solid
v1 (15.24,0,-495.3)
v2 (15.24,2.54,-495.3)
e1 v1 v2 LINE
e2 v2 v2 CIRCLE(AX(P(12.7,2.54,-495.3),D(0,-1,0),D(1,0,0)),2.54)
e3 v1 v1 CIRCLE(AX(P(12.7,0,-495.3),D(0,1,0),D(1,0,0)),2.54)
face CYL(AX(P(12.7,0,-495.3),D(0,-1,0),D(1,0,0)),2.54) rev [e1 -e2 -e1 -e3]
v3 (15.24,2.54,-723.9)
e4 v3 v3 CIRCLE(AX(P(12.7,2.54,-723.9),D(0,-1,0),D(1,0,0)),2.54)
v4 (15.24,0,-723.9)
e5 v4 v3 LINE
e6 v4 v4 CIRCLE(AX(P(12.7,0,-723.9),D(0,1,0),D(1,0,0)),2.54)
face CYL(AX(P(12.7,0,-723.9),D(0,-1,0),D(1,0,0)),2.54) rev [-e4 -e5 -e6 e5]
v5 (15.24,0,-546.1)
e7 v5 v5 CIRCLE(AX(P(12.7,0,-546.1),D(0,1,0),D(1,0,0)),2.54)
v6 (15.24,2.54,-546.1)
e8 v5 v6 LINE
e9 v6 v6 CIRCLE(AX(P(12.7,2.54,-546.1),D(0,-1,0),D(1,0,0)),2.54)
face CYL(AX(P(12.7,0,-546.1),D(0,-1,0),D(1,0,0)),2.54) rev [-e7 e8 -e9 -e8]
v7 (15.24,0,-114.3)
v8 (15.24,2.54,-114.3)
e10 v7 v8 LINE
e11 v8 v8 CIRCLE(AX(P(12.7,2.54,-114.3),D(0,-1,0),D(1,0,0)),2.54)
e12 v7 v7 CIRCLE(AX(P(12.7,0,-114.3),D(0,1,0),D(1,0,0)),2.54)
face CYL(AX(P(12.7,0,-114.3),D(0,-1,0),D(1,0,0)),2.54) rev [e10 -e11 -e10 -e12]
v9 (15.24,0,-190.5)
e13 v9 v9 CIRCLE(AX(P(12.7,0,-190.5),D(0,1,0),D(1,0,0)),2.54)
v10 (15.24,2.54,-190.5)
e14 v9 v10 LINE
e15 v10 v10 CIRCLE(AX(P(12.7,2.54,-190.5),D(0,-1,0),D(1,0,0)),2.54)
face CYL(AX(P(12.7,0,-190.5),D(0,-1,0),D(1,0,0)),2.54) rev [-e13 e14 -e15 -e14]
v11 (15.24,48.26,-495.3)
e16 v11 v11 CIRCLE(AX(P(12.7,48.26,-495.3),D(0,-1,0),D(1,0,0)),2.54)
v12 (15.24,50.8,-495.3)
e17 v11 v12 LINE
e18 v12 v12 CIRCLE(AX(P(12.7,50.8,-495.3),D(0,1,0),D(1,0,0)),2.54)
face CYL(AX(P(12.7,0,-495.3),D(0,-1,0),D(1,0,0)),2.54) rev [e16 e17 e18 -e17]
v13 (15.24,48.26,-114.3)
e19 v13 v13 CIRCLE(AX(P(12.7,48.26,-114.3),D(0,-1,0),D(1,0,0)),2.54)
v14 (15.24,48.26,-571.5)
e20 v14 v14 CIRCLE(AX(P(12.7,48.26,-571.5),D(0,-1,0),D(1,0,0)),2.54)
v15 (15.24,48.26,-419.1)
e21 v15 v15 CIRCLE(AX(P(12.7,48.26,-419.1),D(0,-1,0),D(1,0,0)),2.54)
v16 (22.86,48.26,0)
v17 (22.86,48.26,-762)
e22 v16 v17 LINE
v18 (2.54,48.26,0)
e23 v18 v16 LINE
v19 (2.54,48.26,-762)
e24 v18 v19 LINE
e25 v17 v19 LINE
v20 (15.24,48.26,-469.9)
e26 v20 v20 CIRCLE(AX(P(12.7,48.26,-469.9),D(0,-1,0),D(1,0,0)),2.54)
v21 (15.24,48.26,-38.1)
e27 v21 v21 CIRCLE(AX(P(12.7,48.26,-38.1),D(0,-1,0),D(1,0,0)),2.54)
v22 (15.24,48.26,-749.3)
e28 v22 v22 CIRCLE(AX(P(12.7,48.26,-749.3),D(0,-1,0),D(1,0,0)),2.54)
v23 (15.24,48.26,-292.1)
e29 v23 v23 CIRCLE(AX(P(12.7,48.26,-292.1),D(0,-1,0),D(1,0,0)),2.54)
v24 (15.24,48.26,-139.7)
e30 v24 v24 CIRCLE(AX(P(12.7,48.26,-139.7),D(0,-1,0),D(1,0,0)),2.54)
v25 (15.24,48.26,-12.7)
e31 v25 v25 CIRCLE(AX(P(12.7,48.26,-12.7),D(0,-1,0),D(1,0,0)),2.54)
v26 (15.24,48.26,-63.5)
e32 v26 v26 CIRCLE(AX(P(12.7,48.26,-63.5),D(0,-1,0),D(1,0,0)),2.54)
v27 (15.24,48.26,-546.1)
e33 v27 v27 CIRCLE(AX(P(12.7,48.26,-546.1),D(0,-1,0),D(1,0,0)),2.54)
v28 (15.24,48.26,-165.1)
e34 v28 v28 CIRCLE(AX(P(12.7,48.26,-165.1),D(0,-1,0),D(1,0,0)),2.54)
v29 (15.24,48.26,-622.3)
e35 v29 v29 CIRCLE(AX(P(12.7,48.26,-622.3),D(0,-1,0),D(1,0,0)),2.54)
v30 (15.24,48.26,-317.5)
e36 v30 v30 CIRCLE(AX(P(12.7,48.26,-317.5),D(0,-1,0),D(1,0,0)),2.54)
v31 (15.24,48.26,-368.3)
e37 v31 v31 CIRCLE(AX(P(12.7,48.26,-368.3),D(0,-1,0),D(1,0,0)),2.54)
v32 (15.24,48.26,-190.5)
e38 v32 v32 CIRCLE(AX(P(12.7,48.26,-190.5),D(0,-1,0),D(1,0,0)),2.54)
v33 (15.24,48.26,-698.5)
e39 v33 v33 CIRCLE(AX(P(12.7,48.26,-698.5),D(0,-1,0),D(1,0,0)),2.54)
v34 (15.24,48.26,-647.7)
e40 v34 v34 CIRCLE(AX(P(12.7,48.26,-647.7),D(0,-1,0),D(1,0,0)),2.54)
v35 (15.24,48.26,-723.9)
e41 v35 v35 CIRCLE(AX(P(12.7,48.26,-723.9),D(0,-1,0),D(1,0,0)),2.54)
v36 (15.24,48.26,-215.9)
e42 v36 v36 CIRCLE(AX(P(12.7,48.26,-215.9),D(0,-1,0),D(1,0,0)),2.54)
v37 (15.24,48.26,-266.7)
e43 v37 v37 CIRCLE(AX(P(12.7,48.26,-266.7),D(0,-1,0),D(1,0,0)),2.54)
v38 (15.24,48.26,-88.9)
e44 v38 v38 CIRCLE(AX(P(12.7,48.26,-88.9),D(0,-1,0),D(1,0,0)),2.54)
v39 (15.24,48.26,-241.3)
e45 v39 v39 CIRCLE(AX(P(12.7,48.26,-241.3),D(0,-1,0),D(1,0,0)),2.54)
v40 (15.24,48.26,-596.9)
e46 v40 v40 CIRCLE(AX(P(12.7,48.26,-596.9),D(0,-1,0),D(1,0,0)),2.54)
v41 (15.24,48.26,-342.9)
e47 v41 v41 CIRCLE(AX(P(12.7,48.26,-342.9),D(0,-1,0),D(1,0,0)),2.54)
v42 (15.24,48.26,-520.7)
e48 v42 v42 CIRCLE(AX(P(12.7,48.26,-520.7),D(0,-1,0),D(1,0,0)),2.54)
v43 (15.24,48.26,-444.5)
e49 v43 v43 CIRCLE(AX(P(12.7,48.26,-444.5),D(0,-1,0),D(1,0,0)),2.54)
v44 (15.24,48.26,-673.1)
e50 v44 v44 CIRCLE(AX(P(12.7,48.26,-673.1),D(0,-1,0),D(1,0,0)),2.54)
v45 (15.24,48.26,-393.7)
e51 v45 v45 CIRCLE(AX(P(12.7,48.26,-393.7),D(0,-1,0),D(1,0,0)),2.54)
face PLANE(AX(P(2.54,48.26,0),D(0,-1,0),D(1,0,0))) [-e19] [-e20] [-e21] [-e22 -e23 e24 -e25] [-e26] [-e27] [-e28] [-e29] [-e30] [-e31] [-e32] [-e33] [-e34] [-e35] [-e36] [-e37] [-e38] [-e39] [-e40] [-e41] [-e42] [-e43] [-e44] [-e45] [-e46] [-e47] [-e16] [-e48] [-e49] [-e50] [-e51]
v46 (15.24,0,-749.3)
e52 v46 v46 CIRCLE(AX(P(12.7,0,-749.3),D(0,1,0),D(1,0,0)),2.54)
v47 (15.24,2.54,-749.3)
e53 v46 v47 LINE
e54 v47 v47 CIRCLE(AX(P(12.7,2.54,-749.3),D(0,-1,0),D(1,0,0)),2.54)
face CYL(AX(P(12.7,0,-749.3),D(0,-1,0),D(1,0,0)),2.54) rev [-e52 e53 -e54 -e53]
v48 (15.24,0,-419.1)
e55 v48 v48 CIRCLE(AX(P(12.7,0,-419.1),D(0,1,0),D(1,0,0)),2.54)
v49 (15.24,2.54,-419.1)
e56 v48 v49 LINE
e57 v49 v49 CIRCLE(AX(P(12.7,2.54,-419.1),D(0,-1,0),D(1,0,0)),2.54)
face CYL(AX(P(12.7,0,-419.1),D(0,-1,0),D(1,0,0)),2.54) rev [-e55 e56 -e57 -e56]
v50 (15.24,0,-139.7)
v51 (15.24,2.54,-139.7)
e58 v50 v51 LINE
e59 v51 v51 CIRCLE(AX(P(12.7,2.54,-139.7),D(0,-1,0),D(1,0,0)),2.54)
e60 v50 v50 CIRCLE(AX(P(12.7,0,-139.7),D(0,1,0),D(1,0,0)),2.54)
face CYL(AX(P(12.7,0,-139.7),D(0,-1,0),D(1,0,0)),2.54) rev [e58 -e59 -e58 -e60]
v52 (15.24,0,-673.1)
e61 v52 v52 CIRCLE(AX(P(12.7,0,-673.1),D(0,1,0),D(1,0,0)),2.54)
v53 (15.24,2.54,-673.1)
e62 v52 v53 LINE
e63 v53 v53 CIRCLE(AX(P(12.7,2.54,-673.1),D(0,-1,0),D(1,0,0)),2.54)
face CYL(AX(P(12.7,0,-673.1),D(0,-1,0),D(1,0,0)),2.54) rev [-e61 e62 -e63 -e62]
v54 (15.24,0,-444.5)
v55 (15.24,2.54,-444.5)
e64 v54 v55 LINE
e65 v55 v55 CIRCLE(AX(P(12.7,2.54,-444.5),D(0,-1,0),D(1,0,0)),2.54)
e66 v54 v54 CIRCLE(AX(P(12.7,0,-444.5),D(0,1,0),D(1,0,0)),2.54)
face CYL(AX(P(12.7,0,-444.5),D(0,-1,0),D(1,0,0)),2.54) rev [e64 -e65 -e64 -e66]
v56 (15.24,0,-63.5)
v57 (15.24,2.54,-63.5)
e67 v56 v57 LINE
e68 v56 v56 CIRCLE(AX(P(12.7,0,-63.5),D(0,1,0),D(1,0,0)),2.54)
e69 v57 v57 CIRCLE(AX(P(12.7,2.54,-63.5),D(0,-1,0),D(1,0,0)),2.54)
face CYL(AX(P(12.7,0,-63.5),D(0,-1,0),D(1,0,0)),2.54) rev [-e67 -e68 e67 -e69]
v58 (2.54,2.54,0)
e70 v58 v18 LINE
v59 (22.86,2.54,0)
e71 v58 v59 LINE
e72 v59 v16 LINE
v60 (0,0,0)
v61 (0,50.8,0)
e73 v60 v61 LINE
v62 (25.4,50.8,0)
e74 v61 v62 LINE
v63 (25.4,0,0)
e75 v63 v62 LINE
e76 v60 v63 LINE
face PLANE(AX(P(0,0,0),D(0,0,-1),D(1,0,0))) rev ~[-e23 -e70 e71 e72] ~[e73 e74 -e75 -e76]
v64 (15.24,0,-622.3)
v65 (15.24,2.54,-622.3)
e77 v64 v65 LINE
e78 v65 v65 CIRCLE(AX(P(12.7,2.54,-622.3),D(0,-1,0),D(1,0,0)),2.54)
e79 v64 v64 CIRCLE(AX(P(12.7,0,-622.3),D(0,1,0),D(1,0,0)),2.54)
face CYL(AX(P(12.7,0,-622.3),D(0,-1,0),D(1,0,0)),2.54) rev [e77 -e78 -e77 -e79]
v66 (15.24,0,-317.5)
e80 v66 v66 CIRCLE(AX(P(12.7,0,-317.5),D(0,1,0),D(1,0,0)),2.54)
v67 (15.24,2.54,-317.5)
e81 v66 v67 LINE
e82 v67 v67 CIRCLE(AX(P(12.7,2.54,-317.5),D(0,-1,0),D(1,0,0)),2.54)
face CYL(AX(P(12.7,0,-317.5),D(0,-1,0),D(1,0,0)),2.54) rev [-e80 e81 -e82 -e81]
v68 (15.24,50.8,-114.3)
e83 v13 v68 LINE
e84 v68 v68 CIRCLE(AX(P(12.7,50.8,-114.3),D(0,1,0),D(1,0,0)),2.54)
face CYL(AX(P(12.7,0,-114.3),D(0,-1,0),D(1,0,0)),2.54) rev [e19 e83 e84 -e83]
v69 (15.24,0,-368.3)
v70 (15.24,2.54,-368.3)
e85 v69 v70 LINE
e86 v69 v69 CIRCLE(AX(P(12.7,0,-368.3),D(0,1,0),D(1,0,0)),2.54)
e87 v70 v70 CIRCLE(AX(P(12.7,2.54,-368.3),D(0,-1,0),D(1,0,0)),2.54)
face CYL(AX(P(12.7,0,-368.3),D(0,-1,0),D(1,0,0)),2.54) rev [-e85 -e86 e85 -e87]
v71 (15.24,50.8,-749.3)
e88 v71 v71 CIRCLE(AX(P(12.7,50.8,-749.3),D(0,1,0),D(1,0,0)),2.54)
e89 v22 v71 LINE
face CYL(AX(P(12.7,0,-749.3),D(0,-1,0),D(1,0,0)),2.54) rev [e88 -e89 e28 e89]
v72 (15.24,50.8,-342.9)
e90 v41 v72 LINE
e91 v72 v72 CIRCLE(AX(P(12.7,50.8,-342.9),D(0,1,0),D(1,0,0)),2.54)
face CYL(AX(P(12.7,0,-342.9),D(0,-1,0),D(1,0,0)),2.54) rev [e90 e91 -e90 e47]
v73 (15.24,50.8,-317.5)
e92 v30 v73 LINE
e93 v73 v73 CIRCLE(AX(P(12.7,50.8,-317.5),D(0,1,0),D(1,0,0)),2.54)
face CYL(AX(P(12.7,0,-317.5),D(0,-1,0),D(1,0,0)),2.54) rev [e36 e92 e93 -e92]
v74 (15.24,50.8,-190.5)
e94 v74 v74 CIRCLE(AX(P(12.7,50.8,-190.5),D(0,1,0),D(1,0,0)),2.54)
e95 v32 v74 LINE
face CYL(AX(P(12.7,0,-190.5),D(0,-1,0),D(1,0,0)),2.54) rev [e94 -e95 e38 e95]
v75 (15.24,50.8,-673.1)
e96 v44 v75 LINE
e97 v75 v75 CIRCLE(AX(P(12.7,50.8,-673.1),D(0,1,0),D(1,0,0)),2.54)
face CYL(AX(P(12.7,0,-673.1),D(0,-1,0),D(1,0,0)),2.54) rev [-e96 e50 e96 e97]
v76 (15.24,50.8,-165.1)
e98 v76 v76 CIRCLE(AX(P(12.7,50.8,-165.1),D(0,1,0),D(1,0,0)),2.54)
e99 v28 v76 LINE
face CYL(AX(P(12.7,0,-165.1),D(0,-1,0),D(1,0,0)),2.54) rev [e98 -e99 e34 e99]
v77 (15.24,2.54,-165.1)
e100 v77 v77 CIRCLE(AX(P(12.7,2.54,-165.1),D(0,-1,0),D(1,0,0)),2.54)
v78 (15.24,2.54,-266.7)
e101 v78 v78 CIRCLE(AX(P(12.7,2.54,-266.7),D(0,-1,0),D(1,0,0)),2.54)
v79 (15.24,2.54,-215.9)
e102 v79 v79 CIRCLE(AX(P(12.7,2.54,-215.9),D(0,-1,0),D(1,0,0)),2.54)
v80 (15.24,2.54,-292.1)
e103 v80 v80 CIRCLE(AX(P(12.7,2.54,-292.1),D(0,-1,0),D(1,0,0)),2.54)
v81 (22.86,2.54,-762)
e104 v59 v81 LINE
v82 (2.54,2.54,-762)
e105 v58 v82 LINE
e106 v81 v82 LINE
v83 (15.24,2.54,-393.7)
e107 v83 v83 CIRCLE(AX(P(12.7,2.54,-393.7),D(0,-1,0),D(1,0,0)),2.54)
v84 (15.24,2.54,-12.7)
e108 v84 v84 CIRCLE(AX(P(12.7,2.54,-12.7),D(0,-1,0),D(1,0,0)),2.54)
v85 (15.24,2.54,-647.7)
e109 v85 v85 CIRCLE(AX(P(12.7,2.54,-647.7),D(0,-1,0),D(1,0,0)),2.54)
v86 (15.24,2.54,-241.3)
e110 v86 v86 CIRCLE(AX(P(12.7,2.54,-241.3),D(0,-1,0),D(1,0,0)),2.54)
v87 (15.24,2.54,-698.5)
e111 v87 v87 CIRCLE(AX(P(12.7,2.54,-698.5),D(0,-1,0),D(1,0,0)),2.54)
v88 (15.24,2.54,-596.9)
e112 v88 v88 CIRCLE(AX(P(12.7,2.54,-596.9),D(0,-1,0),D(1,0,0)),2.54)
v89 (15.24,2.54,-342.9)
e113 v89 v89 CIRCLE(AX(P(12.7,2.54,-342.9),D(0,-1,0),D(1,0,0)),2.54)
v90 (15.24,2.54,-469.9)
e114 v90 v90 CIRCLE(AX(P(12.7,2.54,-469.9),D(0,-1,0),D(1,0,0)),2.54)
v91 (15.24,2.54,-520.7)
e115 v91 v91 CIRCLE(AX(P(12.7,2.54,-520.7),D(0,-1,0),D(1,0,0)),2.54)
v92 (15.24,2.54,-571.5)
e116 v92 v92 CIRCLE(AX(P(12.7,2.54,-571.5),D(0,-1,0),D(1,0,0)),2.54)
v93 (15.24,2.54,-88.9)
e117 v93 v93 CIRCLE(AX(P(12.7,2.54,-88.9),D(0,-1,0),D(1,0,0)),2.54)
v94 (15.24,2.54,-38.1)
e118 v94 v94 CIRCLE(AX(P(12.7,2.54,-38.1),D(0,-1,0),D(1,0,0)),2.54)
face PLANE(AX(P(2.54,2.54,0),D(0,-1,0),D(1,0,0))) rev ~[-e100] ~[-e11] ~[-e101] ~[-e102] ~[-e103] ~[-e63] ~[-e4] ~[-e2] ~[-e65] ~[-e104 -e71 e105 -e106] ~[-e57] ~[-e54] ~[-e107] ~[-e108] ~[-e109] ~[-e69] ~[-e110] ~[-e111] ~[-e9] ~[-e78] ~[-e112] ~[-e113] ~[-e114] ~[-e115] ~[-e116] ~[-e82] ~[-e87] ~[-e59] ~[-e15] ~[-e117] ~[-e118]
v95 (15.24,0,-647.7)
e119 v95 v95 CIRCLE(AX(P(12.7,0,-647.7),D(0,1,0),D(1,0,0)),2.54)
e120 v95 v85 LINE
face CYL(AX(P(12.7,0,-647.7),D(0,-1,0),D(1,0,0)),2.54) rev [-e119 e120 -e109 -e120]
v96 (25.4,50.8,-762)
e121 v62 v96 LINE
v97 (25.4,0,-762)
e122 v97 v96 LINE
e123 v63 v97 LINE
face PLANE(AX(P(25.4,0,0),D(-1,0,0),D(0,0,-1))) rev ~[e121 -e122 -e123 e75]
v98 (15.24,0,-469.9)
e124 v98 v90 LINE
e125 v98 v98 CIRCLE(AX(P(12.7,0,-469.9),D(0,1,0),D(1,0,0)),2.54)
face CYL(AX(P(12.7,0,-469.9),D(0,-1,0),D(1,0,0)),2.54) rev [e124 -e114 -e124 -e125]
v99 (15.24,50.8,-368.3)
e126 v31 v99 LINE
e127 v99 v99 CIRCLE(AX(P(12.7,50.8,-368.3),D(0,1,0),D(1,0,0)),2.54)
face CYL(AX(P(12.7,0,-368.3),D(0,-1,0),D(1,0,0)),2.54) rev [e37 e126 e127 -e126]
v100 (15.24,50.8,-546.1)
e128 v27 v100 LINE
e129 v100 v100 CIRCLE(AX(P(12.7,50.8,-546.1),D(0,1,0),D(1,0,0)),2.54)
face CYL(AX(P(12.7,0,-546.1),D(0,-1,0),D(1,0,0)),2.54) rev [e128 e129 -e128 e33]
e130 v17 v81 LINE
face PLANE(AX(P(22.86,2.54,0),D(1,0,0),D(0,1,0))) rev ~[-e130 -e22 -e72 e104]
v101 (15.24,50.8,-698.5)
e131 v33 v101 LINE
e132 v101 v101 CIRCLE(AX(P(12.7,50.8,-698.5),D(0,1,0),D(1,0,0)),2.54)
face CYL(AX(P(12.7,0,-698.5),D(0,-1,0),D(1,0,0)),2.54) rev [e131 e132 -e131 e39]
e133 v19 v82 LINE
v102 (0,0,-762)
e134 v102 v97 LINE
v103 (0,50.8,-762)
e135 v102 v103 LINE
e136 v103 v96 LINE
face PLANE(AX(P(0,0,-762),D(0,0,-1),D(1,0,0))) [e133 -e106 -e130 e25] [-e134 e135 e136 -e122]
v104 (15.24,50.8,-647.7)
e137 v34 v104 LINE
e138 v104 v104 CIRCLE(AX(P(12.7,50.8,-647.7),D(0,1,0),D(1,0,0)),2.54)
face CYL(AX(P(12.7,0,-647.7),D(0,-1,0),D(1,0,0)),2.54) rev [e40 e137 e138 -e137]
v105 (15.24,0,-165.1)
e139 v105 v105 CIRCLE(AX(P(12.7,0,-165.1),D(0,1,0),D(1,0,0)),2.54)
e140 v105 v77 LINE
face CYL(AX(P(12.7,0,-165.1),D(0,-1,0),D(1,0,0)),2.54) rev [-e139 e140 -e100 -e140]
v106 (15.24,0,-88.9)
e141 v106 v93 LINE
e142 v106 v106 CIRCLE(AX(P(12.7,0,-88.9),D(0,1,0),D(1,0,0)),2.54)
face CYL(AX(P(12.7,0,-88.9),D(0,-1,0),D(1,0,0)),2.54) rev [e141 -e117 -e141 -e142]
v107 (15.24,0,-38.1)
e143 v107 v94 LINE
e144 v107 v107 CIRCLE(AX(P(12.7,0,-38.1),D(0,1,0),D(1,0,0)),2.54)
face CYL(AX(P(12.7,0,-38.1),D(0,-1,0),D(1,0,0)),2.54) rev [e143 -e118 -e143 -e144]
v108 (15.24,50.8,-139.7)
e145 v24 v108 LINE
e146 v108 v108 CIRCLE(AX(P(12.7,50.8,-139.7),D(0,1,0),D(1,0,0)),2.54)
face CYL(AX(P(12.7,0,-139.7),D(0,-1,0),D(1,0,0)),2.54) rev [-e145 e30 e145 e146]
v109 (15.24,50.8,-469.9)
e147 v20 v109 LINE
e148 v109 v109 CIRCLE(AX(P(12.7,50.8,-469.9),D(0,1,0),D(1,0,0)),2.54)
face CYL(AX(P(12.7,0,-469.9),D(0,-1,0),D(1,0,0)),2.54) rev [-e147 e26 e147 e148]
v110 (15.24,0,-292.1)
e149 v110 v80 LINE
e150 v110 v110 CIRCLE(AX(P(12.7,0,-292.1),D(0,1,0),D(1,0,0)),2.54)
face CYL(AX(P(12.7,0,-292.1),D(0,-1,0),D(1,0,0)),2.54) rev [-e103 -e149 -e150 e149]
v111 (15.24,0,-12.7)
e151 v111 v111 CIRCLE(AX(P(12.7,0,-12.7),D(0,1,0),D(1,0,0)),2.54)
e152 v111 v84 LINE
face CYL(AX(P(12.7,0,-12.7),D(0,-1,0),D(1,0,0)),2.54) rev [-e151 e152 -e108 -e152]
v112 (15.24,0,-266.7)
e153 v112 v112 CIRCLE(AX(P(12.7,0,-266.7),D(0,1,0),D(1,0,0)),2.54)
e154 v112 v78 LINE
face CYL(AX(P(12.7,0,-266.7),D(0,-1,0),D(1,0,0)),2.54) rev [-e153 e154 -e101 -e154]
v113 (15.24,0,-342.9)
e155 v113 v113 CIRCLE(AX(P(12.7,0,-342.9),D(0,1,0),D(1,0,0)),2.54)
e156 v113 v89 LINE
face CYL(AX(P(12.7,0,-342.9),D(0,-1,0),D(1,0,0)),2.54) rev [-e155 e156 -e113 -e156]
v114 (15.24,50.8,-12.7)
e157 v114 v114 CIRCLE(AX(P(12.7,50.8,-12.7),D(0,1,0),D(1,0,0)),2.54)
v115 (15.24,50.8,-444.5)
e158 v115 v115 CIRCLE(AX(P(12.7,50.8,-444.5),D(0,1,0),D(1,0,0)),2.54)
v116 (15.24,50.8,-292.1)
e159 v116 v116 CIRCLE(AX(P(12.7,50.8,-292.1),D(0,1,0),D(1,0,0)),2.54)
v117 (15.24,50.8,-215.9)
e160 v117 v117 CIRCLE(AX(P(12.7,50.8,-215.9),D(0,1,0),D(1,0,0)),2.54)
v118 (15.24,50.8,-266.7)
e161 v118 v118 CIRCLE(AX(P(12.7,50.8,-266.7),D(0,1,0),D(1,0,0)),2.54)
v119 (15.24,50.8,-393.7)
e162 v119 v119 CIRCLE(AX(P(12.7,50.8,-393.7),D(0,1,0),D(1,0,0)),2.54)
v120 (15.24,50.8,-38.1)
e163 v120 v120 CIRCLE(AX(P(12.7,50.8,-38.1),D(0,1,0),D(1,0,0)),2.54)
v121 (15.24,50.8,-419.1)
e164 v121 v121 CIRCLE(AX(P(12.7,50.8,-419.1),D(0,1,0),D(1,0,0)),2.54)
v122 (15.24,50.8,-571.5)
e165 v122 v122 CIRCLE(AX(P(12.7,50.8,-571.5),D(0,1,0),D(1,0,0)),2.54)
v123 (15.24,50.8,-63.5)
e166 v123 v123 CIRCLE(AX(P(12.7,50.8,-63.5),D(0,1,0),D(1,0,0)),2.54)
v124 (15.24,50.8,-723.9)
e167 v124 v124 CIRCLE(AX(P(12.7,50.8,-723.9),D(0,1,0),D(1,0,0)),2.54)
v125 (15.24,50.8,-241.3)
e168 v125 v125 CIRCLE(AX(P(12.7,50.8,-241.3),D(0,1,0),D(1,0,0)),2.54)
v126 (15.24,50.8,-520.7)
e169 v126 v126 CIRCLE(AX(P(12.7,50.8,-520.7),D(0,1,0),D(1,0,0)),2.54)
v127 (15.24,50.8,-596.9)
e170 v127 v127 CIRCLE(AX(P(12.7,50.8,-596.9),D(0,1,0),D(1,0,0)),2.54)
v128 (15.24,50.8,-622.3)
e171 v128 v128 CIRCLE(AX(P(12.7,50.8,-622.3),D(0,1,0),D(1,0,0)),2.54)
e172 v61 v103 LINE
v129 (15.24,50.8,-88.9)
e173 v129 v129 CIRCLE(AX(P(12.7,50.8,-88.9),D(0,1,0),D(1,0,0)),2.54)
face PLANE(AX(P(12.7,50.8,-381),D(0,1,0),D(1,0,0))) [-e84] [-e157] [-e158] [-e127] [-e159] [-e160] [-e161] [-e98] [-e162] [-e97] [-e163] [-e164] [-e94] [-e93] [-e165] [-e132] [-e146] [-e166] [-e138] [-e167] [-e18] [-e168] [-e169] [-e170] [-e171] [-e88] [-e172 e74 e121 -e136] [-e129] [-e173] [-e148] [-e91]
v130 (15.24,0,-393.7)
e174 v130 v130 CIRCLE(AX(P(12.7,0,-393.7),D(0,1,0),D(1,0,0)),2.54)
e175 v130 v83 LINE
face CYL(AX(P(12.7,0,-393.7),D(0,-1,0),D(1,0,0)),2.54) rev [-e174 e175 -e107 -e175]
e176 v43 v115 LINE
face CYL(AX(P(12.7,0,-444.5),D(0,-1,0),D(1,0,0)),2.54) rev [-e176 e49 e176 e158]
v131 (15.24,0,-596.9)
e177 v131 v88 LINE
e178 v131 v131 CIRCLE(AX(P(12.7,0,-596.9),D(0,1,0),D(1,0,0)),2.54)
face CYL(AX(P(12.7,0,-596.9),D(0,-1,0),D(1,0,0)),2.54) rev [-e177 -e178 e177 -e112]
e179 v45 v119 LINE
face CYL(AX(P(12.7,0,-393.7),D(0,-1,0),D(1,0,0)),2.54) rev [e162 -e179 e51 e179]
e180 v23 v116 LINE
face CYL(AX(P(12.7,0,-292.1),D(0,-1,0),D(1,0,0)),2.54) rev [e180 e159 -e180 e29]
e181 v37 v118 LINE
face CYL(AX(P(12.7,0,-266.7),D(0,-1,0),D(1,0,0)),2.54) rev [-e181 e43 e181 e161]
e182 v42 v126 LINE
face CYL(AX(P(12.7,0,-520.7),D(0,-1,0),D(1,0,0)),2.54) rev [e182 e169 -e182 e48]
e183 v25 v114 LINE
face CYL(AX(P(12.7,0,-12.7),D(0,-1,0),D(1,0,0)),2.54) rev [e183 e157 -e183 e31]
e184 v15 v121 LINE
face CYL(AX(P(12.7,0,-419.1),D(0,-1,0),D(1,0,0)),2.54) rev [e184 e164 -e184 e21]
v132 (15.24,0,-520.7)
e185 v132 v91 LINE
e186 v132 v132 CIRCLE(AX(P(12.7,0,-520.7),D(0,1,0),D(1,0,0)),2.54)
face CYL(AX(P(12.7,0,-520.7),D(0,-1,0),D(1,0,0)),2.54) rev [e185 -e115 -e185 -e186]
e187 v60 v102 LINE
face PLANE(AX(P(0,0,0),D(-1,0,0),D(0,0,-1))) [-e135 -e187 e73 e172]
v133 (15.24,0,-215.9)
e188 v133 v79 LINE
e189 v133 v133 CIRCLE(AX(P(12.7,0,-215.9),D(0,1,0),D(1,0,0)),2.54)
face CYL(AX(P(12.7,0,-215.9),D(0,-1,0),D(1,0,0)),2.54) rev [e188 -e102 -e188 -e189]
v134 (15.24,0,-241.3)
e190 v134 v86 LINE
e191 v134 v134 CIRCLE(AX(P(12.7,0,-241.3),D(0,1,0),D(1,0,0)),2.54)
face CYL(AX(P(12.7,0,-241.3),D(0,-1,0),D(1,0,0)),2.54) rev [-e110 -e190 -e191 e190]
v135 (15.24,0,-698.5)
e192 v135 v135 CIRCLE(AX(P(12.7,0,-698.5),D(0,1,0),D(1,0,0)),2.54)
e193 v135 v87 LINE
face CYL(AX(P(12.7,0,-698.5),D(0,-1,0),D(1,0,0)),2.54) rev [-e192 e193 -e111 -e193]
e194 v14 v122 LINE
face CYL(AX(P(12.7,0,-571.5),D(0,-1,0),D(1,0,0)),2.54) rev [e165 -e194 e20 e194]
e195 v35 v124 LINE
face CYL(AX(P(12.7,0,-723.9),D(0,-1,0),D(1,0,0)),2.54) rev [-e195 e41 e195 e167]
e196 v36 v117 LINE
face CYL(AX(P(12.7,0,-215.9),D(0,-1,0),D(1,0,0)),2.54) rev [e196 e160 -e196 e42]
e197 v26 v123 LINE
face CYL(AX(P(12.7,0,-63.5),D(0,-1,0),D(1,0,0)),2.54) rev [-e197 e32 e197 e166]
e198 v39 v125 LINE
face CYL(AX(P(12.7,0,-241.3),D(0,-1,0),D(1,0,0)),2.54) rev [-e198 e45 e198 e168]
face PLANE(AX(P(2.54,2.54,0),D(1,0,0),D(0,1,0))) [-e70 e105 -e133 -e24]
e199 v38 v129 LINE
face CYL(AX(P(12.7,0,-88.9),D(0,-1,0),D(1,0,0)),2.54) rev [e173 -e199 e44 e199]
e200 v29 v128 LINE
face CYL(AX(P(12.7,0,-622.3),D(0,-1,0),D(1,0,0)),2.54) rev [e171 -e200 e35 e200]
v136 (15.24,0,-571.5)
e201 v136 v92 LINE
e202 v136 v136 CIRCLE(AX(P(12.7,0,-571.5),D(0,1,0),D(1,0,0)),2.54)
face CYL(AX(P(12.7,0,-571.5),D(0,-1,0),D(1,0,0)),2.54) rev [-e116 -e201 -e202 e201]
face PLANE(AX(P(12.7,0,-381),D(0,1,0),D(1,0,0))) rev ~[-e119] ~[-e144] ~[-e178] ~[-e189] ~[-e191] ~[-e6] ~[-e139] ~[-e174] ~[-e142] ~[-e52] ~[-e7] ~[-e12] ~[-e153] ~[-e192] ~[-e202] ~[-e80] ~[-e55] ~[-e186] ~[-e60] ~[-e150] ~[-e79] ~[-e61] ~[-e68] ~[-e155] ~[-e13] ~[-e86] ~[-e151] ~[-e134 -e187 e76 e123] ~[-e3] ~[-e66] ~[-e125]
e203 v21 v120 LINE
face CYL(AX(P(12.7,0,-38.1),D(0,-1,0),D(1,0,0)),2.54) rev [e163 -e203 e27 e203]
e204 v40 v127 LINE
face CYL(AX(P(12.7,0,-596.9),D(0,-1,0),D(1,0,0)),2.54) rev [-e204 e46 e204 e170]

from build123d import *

# Parameters (mm, degrees)
SKETCH2_W           = 25.4
SKETCH2_H           = 762
SKETCH2_R           = 2.54
BOSS_EXTRUDE1_DEPTH = 50.8
SKETCH3_OUTSIDE_W   = 180.222
SKETCH3_OUTSIDE_H   = 205.622
SKETCH3_OUTSIDE_W_2 = 25.4
SKETCH3_OUTSIDE_H_2 = 50.8
SKETCH3_OUTSIDE_W_3 = 20.32
SKETCH3_OUTSIDE_H_3 = 45.72
CUT_EXTRUDE1_DEPTH  = 763


with BuildPart() as part:
    # Sketch2 → Boss-Extrude1 (new body)
    with BuildSketch(Plane(origin=(0, 0, 0), x_dir=(1, 0, 0), z_dir=(0, 1, 0))):
        with Locations((12.7, 381)):
            Rectangle(SKETCH2_W, SKETCH2_H)
        with Locations((12.7, 12.7)):
            Circle(SKETCH2_R, mode=Mode.SUBTRACT)
        with Locations((12.7, 38.1)):
            Circle(SKETCH2_R, mode=Mode.SUBTRACT)
        with Locations((12.7, 63.5)):
            Circle(SKETCH2_R, mode=Mode.SUBTRACT)
        with Locations((12.7, 88.9)):
            Circle(SKETCH2_R, mode=Mode.SUBTRACT)
        with Locations((12.7, 114.3)):
            Circle(SKETCH2_R, mode=Mode.SUBTRACT)
        with Locations((12.7, 139.7)):
            Circle(SKETCH2_R, mode=Mode.SUBTRACT)
        with Locations((12.7, 165.1)):
            Circle(SKETCH2_R, mode=Mode.SUBTRACT)
        with Locations((12.7, 190.5)):
            Circle(SKETCH2_R, mode=Mode.SUBTRACT)
        with Locations((12.7, 215.9)):
            Circle(SKETCH2_R, mode=Mode.SUBTRACT)
        with Locations((12.7, 241.3)):
            Circle(SKETCH2_R, mode=Mode.SUBTRACT)
        with Locations((12.7, 266.7)):
            Circle(SKETCH2_R, mode=Mode.SUBTRACT)
        with Locations((12.7, 292.1)):
            Circle(SKETCH2_R, mode=Mode.SUBTRACT)
        with Locations((12.7, 317.5)):
            Circle(SKETCH2_R, mode=Mode.SUBTRACT)
        with Locations((12.7, 342.9)):
            Circle(SKETCH2_R, mode=Mode.SUBTRACT)
        with Locations((12.7, 368.3)):
            Circle(SKETCH2_R, mode=Mode.SUBTRACT)
        with Locations((12.7, 393.7)):
            Circle(SKETCH2_R, mode=Mode.SUBTRACT)
        with Locations((12.7, 419.1)):
            Circle(SKETCH2_R, mode=Mode.SUBTRACT)
        with Locations((12.7, 444.5)):
            Circle(SKETCH2_R, mode=Mode.SUBTRACT)
        with Locations((12.7, 469.9)):
            Circle(SKETCH2_R, mode=Mode.SUBTRACT)
        with Locations((12.7, 495.3)):
            Circle(SKETCH2_R, mode=Mode.SUBTRACT)
        with Locations((12.7, 520.7)):
            Circle(SKETCH2_R, mode=Mode.SUBTRACT)
        with Locations((12.7, 546.1)):
            Circle(SKETCH2_R, mode=Mode.SUBTRACT)
        with Locations((12.7, 571.5)):
            Circle(SKETCH2_R, mode=Mode.SUBTRACT)
        with Locations((12.7, 596.9)):
            Circle(SKETCH2_R, mode=Mode.SUBTRACT)
        with Locations((12.7, 622.3)):
            Circle(SKETCH2_R, mode=Mode.SUBTRACT)
        with Locations((12.7, 647.7)):
            Circle(SKETCH2_R, mode=Mode.SUBTRACT)
        with Locations((12.7, 673.1)):
            Circle(SKETCH2_R, mode=Mode.SUBTRACT)
        with Locations((12.7, 698.5)):
            Circle(SKETCH2_R, mode=Mode.SUBTRACT)
        with Locations((12.7, 723.9)):
            Circle(SKETCH2_R, mode=Mode.SUBTRACT)
        with Locations((12.7, 749.3)):
            Circle(SKETCH2_R, mode=Mode.SUBTRACT)
    extrude(amount=BOSS_EXTRUDE1_DEPTH)

    # Sketch3 outside → Cut-Extrude1 (cut, through all)
    with BuildSketch(Plane.XY):
        with Locations((12.7, 25.4)):
            Rectangle(SKETCH3_OUTSIDE_W, SKETCH3_OUTSIDE_H)
        with Locations((12.7, 25.4)):
            Rectangle(SKETCH3_OUTSIDE_W_2, SKETCH3_OUTSIDE_H_2, mode=Mode.SUBTRACT)
        with Locations((12.7, 25.4)):
            Rectangle(SKETCH3_OUTSIDE_W_3, SKETCH3_OUTSIDE_H_3)
    extrude(amount=-CUT_EXTRUDE1_DEPTH, mode=Mode.SUBTRACT)


solid = part.part
